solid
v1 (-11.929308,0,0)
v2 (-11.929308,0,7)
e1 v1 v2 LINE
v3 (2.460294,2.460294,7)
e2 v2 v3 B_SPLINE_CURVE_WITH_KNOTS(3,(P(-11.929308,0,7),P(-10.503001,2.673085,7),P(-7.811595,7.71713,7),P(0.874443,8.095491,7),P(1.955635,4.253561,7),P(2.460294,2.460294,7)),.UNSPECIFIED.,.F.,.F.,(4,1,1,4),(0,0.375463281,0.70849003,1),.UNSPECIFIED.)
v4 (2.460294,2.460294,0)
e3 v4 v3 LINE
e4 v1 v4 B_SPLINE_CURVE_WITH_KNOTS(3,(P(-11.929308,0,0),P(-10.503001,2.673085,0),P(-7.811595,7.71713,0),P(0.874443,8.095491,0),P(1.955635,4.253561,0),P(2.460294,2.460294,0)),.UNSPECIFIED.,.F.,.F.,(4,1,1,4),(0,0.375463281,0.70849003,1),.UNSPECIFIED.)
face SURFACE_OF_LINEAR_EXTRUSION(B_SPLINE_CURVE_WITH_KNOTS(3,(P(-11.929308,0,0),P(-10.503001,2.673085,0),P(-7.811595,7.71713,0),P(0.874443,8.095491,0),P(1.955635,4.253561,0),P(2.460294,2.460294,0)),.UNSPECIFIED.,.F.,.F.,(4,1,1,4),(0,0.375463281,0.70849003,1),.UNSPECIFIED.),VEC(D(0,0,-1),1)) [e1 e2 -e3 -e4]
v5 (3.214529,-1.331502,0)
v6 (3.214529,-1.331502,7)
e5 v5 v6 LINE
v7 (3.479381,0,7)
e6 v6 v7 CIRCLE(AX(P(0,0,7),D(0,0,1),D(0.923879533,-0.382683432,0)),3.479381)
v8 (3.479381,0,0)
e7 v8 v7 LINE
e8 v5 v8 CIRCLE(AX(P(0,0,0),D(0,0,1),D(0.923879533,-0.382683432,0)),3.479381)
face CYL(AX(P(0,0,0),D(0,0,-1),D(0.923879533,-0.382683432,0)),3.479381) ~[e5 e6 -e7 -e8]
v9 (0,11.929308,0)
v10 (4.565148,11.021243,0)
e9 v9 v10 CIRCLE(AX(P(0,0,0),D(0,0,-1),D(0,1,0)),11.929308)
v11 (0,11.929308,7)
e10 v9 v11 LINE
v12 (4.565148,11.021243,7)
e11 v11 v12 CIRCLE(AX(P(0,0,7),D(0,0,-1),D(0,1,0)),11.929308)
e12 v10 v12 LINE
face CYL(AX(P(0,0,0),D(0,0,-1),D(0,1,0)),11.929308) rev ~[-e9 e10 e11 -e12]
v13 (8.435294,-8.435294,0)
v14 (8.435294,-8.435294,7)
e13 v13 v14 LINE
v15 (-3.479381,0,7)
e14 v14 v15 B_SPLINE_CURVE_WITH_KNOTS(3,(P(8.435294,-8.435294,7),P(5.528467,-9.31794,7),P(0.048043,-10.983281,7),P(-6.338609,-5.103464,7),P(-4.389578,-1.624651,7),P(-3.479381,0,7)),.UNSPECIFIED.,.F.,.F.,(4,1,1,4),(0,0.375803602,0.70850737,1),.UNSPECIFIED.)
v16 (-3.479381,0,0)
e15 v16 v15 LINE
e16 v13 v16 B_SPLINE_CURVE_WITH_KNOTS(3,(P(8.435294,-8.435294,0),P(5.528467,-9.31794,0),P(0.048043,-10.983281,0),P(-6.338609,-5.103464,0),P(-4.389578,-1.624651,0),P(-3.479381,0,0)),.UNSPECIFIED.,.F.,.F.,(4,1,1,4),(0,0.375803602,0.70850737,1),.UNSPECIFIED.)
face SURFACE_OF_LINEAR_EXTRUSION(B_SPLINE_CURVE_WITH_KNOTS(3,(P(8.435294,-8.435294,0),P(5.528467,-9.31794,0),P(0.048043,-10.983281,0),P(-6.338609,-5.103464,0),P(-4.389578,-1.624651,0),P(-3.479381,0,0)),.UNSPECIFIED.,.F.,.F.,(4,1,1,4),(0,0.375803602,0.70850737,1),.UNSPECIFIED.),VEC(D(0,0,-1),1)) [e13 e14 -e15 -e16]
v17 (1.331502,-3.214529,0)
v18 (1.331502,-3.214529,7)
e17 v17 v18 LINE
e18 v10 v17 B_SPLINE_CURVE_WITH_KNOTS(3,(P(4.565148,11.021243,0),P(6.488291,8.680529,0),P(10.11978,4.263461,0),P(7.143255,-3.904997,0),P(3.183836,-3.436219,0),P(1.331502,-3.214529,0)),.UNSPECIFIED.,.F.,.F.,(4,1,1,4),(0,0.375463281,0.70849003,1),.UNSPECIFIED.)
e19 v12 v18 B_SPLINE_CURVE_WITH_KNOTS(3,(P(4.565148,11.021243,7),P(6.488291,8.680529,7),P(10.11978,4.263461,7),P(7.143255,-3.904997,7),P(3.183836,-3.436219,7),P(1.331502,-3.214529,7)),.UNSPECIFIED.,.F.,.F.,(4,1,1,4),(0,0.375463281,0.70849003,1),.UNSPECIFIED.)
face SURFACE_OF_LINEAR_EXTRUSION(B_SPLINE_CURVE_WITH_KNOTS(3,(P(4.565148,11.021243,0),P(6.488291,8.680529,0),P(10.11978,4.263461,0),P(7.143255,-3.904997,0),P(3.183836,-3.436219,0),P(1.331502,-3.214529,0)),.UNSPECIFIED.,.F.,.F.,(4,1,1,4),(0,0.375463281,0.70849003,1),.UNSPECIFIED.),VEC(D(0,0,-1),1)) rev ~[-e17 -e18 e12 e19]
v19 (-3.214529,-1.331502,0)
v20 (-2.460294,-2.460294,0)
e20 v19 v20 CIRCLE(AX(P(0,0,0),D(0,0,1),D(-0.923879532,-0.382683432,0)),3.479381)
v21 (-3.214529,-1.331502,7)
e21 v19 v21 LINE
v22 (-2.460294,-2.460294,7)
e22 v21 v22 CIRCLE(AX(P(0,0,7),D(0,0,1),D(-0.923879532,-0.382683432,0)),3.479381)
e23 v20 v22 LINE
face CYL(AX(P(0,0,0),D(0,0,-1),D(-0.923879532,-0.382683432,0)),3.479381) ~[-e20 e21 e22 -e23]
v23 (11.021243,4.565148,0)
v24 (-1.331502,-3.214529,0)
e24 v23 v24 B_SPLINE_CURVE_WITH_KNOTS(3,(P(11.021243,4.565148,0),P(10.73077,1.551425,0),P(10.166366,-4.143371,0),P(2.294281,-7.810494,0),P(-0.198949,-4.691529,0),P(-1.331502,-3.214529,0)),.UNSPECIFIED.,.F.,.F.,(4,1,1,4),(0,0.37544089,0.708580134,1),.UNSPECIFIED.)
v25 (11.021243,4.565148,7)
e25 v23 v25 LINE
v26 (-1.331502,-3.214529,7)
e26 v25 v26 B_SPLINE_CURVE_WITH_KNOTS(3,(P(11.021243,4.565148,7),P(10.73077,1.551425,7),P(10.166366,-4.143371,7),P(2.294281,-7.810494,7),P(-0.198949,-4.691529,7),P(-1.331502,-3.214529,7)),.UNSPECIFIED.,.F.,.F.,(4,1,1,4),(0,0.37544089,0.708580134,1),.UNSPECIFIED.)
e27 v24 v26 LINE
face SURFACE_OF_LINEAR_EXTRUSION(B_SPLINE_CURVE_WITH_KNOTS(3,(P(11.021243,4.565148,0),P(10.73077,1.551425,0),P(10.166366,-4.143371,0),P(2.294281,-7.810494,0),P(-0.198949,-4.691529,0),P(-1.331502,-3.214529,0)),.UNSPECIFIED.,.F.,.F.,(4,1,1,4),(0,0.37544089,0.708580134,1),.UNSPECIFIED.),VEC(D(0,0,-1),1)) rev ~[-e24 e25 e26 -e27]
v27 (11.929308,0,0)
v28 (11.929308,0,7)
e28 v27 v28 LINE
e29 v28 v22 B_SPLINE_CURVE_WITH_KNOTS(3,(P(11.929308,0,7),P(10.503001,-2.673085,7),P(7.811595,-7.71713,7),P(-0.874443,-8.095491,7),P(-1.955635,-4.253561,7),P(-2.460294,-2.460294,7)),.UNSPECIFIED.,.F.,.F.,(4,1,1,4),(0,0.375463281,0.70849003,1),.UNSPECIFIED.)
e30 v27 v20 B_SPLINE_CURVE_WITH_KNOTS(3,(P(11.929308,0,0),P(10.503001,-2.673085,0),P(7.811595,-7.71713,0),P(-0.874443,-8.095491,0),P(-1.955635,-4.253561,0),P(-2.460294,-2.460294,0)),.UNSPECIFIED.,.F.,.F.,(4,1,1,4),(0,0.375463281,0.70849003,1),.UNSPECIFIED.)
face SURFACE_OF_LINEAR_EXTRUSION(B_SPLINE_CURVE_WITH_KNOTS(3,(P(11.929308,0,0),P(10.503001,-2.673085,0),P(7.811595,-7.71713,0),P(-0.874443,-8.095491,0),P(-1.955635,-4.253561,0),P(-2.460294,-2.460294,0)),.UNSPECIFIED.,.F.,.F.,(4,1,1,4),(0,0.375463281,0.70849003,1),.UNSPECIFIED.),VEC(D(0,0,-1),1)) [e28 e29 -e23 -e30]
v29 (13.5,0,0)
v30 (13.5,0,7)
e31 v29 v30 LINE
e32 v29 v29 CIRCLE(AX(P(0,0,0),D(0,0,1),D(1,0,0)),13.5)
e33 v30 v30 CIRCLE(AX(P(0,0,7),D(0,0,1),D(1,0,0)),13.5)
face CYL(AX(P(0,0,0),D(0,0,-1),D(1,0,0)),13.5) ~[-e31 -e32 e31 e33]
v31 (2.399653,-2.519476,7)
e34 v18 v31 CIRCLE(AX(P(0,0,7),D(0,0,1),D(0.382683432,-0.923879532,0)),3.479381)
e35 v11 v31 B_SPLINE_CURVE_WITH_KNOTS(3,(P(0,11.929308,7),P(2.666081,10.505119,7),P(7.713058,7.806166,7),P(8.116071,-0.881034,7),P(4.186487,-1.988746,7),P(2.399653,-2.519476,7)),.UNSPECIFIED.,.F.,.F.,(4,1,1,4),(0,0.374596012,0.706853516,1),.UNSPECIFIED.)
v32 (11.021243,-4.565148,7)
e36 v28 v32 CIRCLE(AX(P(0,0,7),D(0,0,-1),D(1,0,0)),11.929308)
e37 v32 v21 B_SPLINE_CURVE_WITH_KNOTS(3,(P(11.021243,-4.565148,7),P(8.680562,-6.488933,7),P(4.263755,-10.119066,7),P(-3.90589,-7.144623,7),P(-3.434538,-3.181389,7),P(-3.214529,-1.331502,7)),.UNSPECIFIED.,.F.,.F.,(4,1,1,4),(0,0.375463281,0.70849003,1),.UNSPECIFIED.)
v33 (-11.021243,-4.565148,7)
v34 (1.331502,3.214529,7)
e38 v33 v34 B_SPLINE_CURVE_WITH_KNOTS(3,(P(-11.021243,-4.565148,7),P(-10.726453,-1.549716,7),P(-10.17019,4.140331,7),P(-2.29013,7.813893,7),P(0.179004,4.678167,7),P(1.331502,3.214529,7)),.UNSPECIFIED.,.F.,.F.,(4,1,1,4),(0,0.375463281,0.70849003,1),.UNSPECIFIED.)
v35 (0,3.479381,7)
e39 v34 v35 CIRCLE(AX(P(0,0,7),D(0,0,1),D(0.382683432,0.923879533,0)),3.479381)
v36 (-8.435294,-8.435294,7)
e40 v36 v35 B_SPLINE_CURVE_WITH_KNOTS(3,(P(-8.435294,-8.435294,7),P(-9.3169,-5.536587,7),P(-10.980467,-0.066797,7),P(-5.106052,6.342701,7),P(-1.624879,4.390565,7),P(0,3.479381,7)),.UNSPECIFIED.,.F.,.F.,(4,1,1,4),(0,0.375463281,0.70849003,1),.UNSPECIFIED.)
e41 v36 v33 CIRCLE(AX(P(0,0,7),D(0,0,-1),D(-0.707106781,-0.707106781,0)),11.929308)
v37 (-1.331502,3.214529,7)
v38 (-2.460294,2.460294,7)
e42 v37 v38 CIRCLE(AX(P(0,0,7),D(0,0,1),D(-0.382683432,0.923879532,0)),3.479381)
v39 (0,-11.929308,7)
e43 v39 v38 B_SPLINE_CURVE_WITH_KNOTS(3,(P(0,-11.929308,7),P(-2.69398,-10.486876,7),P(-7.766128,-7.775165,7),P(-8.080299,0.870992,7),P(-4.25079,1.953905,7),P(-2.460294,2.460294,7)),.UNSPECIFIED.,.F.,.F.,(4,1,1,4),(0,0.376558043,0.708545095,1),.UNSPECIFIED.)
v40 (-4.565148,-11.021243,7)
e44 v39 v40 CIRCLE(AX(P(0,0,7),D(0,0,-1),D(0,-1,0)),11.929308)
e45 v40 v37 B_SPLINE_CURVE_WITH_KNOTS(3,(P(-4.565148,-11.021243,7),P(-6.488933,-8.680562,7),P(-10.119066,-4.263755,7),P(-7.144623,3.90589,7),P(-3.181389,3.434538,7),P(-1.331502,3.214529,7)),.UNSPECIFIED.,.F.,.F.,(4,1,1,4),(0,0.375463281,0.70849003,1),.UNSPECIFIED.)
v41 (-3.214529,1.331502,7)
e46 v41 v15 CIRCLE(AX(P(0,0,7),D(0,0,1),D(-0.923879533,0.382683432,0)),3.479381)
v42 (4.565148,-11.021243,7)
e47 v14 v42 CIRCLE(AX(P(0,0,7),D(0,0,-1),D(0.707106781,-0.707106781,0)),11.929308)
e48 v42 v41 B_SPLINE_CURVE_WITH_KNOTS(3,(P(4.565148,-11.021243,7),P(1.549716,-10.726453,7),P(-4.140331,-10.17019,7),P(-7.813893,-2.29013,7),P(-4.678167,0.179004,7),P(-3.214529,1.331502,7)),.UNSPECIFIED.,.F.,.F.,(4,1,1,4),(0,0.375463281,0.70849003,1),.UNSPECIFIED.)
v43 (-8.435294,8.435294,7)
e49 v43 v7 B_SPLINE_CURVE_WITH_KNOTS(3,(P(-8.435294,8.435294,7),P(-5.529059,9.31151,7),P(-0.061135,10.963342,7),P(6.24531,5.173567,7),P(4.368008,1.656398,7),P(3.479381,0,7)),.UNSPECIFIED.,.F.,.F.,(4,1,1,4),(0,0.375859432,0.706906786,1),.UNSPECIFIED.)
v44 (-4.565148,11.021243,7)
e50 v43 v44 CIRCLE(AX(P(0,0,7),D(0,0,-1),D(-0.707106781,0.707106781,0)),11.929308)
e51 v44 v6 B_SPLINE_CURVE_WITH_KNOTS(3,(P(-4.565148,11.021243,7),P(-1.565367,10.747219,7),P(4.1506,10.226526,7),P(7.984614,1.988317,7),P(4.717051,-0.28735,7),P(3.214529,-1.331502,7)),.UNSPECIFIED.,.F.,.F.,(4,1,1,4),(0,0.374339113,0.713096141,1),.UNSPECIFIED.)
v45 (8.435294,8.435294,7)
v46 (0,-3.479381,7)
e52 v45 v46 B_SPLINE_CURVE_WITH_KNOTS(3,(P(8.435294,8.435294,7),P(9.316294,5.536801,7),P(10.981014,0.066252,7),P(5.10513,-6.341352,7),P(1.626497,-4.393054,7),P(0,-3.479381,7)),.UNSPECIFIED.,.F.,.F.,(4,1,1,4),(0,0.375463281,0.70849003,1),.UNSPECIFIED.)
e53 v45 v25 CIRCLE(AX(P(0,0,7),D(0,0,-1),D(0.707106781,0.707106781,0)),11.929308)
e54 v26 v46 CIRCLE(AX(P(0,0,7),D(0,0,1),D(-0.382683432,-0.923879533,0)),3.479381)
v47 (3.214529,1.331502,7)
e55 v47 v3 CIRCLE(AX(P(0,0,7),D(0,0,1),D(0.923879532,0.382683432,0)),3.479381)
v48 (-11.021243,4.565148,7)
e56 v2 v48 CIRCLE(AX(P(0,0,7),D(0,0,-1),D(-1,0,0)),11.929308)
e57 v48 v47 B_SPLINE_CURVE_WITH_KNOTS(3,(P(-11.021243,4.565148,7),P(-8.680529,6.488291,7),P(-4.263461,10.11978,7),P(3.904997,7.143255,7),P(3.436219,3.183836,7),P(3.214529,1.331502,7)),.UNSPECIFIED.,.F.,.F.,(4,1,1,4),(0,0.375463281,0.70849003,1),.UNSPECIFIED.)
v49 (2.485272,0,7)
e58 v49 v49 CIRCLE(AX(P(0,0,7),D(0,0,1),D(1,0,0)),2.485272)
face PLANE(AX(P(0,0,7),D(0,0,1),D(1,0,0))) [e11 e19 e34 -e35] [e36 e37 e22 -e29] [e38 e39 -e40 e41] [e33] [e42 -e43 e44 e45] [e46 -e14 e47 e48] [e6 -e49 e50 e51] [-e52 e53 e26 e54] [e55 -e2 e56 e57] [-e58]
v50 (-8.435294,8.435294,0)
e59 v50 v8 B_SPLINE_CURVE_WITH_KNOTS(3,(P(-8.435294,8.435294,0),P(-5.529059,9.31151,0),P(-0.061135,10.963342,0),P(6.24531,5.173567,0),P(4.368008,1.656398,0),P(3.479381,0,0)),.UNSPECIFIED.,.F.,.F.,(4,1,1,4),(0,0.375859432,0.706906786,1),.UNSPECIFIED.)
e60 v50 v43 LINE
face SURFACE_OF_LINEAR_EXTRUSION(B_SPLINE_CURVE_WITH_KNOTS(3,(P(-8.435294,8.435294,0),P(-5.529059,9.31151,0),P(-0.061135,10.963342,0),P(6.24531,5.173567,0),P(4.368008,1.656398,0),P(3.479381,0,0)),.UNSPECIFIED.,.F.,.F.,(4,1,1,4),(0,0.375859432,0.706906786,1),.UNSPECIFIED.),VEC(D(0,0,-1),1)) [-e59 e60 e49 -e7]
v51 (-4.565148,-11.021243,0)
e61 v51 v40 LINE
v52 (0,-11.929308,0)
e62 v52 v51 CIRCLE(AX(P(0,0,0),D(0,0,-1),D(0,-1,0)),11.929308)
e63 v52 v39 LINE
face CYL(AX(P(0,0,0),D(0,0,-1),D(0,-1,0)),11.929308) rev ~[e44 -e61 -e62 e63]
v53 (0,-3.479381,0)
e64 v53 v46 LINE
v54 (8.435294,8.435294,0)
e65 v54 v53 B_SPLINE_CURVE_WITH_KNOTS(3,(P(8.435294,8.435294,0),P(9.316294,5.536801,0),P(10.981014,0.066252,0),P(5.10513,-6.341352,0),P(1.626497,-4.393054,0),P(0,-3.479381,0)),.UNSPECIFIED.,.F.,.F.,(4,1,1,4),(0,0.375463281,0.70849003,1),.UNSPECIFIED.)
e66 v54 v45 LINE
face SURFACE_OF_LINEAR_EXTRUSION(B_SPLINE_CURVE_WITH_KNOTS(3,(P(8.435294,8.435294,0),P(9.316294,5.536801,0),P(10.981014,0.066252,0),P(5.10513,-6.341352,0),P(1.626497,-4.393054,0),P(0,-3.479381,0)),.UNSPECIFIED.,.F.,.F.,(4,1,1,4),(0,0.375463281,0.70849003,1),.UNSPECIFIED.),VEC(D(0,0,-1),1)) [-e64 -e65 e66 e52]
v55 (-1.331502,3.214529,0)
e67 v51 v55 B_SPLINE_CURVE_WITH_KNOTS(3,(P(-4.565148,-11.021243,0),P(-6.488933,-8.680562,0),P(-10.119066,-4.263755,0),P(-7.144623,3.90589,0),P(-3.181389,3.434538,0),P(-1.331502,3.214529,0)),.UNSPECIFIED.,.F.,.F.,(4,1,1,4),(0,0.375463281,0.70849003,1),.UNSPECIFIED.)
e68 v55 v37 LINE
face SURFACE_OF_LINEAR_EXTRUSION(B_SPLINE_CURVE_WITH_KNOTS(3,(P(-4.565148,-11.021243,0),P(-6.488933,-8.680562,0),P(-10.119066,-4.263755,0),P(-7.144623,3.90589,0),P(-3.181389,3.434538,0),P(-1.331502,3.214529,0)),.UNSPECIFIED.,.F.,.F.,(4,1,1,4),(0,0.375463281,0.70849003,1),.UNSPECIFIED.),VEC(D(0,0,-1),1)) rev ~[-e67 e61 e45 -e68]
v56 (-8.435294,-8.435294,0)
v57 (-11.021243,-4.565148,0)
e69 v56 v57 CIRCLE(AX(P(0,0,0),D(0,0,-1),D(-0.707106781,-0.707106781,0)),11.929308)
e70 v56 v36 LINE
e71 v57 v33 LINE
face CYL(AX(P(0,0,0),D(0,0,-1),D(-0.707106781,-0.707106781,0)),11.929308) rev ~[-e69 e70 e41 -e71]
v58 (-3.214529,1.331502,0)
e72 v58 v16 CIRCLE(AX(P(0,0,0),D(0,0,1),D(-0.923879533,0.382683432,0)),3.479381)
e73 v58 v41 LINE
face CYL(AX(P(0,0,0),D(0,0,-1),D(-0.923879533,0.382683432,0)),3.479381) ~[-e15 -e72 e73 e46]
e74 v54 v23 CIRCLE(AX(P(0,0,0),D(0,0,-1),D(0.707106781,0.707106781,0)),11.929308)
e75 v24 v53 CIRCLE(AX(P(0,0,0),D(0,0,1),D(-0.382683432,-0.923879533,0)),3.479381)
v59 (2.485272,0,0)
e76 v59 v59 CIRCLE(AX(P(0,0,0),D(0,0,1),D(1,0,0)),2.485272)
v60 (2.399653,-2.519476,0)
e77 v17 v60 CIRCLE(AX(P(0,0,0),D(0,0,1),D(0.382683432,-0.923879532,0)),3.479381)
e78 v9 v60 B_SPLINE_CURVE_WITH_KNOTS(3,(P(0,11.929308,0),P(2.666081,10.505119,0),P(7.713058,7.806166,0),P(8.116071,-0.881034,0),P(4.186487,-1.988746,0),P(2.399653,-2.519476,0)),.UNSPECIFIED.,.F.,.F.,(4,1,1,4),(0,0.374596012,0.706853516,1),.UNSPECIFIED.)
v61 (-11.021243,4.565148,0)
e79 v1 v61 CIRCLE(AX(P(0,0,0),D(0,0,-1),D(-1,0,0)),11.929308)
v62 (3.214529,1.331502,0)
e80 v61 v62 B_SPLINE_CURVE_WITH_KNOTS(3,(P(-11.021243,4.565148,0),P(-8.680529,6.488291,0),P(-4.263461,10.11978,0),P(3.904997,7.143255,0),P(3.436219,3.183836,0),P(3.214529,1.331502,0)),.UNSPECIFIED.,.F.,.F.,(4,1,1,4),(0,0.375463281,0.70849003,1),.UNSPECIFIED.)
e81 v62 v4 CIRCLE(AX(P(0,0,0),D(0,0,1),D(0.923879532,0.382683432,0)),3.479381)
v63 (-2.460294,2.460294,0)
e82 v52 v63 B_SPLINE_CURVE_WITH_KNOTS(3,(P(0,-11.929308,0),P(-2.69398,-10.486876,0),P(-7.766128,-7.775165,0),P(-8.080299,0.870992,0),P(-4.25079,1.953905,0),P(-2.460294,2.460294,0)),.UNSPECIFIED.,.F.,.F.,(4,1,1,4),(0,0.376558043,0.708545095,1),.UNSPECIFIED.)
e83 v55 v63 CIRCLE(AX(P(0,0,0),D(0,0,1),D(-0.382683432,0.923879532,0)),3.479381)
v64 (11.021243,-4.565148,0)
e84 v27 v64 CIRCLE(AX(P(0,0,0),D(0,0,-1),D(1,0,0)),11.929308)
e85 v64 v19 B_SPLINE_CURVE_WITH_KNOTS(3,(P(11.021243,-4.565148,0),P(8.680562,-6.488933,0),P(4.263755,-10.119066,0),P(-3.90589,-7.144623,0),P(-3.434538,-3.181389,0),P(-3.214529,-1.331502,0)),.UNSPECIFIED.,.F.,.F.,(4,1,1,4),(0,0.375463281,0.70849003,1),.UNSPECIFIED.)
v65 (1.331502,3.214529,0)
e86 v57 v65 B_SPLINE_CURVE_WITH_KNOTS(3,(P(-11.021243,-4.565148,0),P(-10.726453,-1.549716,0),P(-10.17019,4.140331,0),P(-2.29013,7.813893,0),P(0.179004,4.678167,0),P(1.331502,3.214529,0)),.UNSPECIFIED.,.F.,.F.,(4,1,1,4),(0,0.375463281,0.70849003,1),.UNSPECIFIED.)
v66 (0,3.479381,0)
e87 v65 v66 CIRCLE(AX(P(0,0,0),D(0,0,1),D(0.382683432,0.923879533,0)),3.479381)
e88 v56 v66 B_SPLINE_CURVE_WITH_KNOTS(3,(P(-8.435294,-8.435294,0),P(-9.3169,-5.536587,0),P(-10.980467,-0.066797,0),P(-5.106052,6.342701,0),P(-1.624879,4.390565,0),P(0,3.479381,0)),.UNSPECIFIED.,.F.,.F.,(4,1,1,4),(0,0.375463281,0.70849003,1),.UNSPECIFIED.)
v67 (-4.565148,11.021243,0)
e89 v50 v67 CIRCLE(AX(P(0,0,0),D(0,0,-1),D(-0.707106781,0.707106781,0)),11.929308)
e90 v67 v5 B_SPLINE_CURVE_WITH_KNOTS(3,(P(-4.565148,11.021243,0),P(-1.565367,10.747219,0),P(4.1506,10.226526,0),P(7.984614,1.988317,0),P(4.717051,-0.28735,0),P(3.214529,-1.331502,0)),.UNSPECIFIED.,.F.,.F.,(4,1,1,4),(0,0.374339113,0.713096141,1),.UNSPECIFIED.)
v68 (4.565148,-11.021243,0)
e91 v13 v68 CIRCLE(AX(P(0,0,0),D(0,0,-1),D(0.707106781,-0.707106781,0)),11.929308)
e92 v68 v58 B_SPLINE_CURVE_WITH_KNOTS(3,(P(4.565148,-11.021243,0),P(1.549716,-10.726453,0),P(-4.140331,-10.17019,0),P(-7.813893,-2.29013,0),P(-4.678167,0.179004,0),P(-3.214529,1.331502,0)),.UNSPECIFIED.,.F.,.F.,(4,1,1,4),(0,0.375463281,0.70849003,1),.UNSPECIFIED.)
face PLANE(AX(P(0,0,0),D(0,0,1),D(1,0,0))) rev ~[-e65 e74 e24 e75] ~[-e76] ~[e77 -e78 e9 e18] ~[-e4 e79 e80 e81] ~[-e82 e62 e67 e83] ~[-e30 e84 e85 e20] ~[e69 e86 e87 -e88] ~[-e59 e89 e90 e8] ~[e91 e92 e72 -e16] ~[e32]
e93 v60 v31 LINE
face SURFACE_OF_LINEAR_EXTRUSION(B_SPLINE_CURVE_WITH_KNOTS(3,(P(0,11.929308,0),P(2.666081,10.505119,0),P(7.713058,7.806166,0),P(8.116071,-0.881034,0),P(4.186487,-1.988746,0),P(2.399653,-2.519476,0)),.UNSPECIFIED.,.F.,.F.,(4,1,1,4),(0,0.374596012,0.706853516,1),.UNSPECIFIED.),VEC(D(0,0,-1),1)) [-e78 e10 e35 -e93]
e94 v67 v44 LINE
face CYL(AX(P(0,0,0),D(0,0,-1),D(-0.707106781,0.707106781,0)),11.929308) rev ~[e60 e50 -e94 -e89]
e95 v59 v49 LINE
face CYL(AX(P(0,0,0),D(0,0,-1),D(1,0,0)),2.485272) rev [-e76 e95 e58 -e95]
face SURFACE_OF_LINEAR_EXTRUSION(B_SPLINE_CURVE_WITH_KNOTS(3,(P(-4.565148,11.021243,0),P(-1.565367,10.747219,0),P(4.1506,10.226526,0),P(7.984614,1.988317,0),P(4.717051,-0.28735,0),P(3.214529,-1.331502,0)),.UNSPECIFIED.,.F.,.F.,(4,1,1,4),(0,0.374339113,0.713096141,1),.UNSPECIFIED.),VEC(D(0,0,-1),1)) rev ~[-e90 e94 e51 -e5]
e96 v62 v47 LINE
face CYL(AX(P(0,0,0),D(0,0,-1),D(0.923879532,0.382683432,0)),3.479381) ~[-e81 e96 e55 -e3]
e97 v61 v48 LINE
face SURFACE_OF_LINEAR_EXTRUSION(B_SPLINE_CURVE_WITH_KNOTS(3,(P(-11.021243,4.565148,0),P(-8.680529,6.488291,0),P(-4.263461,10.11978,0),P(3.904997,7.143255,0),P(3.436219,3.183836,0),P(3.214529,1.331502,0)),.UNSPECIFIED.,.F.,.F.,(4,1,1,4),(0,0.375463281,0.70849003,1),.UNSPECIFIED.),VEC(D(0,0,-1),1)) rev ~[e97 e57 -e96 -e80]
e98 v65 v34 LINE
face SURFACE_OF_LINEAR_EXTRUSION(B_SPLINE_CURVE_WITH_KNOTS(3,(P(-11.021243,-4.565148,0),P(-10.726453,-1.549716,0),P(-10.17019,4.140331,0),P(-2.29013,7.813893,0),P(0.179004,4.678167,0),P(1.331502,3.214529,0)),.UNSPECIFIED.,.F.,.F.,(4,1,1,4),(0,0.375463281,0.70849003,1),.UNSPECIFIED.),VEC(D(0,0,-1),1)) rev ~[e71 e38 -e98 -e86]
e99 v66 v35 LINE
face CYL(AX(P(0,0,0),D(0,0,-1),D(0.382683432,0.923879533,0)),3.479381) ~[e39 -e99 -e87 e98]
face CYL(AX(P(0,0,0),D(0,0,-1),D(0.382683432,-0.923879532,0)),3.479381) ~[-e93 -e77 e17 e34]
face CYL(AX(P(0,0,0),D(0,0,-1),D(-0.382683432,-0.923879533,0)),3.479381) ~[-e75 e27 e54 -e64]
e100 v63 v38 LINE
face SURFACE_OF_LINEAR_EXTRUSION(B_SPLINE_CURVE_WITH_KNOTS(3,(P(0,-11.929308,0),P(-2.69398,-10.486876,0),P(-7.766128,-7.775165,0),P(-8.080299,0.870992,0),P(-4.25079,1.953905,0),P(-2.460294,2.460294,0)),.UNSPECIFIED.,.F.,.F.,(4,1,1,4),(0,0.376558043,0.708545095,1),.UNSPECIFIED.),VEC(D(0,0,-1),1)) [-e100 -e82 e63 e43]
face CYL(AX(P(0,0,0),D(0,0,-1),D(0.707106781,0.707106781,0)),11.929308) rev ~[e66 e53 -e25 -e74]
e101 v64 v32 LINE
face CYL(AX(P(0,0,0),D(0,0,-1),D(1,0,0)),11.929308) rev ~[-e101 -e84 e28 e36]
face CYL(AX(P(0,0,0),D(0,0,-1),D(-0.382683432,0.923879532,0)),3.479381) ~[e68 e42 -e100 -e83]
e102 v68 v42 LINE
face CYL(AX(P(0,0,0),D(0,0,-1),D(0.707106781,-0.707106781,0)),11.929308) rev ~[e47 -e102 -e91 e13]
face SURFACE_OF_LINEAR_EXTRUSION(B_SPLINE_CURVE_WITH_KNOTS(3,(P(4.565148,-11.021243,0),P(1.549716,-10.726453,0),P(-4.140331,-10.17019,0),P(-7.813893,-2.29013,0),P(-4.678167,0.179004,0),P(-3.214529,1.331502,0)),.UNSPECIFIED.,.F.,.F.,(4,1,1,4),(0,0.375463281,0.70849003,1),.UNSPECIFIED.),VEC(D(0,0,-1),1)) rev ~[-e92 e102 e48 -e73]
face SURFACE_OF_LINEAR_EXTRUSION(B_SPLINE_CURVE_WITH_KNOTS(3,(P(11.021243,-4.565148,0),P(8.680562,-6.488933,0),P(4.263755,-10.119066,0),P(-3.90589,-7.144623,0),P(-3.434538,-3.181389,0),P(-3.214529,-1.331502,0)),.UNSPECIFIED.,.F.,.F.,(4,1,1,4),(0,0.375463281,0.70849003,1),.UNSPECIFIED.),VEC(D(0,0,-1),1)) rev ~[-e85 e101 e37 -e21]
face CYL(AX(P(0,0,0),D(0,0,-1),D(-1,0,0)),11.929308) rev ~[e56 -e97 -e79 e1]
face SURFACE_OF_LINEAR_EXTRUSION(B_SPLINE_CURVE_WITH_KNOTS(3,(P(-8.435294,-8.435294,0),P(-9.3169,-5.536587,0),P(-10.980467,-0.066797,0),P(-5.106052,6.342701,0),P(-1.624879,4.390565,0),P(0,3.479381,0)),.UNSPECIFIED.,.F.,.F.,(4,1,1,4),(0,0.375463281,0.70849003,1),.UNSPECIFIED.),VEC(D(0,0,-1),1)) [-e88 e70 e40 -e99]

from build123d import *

# Parameters (mm, degrees)
F0_R     = 13.5
F0_R_2   = 2.4852724595
F1_DEPTH = 7


with BuildPart() as f1:
    # F0 (on Top) → F1 (new body)
    with BuildSketch(Plane.XY):
        Circle(F0_R)
        with BuildLine():
            ThreePointArc((-11.0212433186, 4.5651484568), (-9.9188569362, 6.6275683173), (-8.4352944442, 8.4352944442))
            ThreePointArc((-8.4352944442, 8.4352944442), (-6.6275683173, 9.9188569362), (-4.5651484568, 11.0212433186))
            ThreePointArc((-4.5651484568, 11.0212433186), (-2.3272925012, 11.7000895011), (0, 11.9293078056))
            ThreePointArc((0, 11.9293078056), (2.3272925012, 11.7000895011), (4.5651484568, 11.0212433186))
            ThreePointArc((4.5651484568, 11.0212433186), (6.6275683173, 9.9188569362), (8.4352944442, 8.4352944442))
            ThreePointArc((8.4352944442, 8.4352944442), (9.9188569362, 6.6275683173), (11.0212433186, 4.5651484568))
            ThreePointArc((11.0212433186, 4.5651484568), (11.7000895011, 2.3272925012), (11.9293078056, 0))
            ThreePointArc((11.9293078056, 0), (11.7000895011, -2.3272925012), (11.0212433186, -4.5651484568))
            ThreePointArc((11.0212433186, -4.5651484568), (9.9188569362, -6.6275683173), (8.4352944442, -8.4352944442))
            ThreePointArc((8.4352944442, -8.4352944442), (6.6275683173, -9.9188569362), (4.5651484568, -11.0212433186))
            ThreePointArc((4.5651484568, -11.0212433186), (2.3272925012, -11.7000895011), (0, -11.9293078056))
            ThreePointArc((0, -11.9293078056), (-2.3272925012, -11.7000895011), (-4.5651484568, -11.0212433186))
            ThreePointArc((-4.5651484568, -11.0212433186), (-6.6275683173, -9.9188569362), (-8.4352944442, -8.4352944442))
            ThreePointArc((-8.4352944442, -8.4352944442), (-9.9188569362, -6.6275683173), (-11.0212433186, -4.5651484568))
            ThreePointArc((-11.0212433186, -4.5651484568), (-11.7000895011, -2.3272925012), (-11.9293078056, 0))
            ThreePointArc((-11.9293078056, 0), (-11.7000895011, 2.3272925012), (-11.0212433186, 4.5651484568))
        make_face(mode=Mode.SUBTRACT)
        with BuildLine():
            add(Edge.make_bspline(
                [(11.0212433186, 4.5651484568), (10.7307703614, 1.5514252721), (10.1663660438, -4.1433714543), (2.2942810987, -7.8104935299), (-0.1989491839, -4.6915291397), (-1.3315016332, -3.2145293013)],
                knots=[0, 0, 0, 0, 0.3754408897, 0.7085801344, 1, 1, 1, 1], degree=3))
            ThreePointArc((-1.3315016332, -3.2145293013), (-1.9330407592, -2.8929999397), (-2.4602942129, -2.4602942129))
            add(Edge.make_bspline(
                [(11.9293078056, 0), (10.5030009531, -2.6730846833), (7.8115947966, -7.7171301221), (-0.8744432081, -8.0954908894), (-1.9556350248, -4.2535609012), (-2.4602942129, -2.4602942129)],
                knots=[0, 0, 0, 0, 0.3754632807, 0.7084900303, 1, 1, 1, 1], degree=3))
            ThreePointArc((11.9293078056, 0), (11.7000895011, 2.3272925012), (11.0212433186, 4.5651484568))
        make_face()
        with BuildLine():
            add(Edge.make_bspline(
                [(4.5651484568, 11.0212433186), (6.4882912926, 8.6805285734), (10.1197801342, 4.2634610727), (7.1432551055, -3.9049968446), (3.1838363189, -3.436219375), (1.3315016332, -3.2145293013)],
                knots=[0, 0, 0, 0, 0.3754632807, 0.7084900303, 1, 1, 1, 1], degree=3))
            ThreePointArc((1.3315016332, -3.2145293013), (0.6787936462, -3.4125261045), (0, -3.4793814433))
            add(Edge.make_bspline(
                [(8.4352944442, 8.4352944442), (9.3162939954, 5.5368010983), (10.9810136566, 0.0662522262), (5.1051295916, -6.3413520413), (1.6264969852, -4.3930541604), (0, -3.4793814433)],
                knots=[0, 0, 0, 0, 0.3754632807, 0.7084900303, 1, 1, 1, 1], degree=3))
            ThreePointArc((8.4352944442, 8.4352944442), (6.6275683173, 9.9188569362), (4.5651484568, 11.0212433186))
        make_face()
        with BuildLine():
            add(Edge.make_bspline(
                [(-4.5651484568, 11.0212433186), (-1.5653669998, 10.7472190798), (4.1505997502, 10.2265263001), (7.9846135159, 1.9883168119), (4.7170514854, -0.2873495043), (3.2145293013, -1.3315016332)],
                knots=[0, 0, 0, 0, 0.3743391134, 0.7130961412, 1, 1, 1, 1], degree=3))
            ThreePointArc((3.2145293013, -1.3315016332), (2.8692477592, -1.968124113), (2.399653463, -2.5194758355))
            add(Edge.make_bspline(
                [(0, 11.9293078056), (2.6660813096, 10.5051188653), (7.7130575447, 7.806165889), (8.1160713079, -0.8810343308), (4.1864871277, -1.9887456195), (2.399653463, -2.5194758355)],
                knots=[0, 0, 0, 0, 0.3745960123, 0.7068535161, 1, 1, 1, 1], degree=3))
            ThreePointArc((0, 11.9293078056), (-2.3272925012, 11.7000895011), (-4.5651484568, 11.0212433186))
        make_face()
        with BuildLine():
            ThreePointArc((3.2145293013, 1.3315016332), (3.4125261045, 0.6787936462), (3.4793814433, 0))
            add(Edge.make_bspline(
                [(-8.4352944442, 8.4352944442), (-5.5290587898, 9.3115098739), (-0.061134709, 10.963342265), (6.2453098168, 5.1735666291), (4.3680084471, 1.6563982723), (3.4793814433, 0)],
                knots=[0, 0, 0, 0, 0.3758594316, 0.7069067859, 1, 1, 1, 1], degree=3))
            ThreePointArc((-8.4352944442, 8.4352944442), (-9.9188569362, 6.6275683173), (-11.0212433186, 4.5651484568))
            add(Edge.make_bspline(
                [(-11.0212433186, 4.5651484568), (-8.6805285734, 6.4882912926), (-4.2634610727, 10.1197801342), (3.9049968446, 7.1432551055), (3.436219375, 3.1838363189), (3.2145293013, 1.3315016332)],
                knots=[0, 0, 0, 0, 0.3754632807, 0.7084900303, 1, 1, 1, 1], degree=3))
        make_face()
        with BuildLine():
            ThreePointArc((1.3315016332, 3.2145293013), (1.9330407592, 2.8929999397), (2.4602942129, 2.4602942129))
            add(Edge.make_bspline(
                [(-11.9293078056, 0), (-10.5030009531, 2.6730846833), (-7.8115947966, 7.7171301221), (0.8744432081, 8.0954908894), (1.9556350248, 4.2535609012), (2.4602942129, 2.4602942129)],
                knots=[0, 0, 0, 0, 0.3754632807, 0.7084900303, 1, 1, 1, 1], degree=3))
            ThreePointArc((-11.9293078056, 0), (-11.7000895011, -2.3272925012), (-11.0212433186, -4.5651484568))
            add(Edge.make_bspline(
                [(-11.0212433186, -4.5651484568), (-10.7264528322, -1.5497162273), (-10.170190392, 4.1403306606), (-2.2901300579, 7.8138932667), (0.179003887, 4.6781669807), (1.3315016332, 3.2145293013)],
                knots=[0, 0, 0, 0, 0.3754632807, 0.7084900303, 1, 1, 1, 1], degree=3))
        make_face()
        with BuildLine():
            ThreePointArc((-1.3315016332, 3.2145293013), (-0.6787936462, 3.4125261045), (0, 3.4793814433))
            add(Edge.make_bspline(
                [(-8.4352944442, -8.4352944442), (-9.316899503, -5.5365868906), (-10.9804666932, -0.0667966119), (-5.1060517827, 6.3427012272), (-1.6248789699, 4.390564545), (0, 3.4793814433)],
                knots=[0, 0, 0, 0, 0.3754632807, 0.7084900303, 1, 1, 1, 1], degree=3))
            ThreePointArc((-8.4352944442, -8.4352944442), (-6.6275683173, -9.9188569362), (-4.5651484568, -11.0212433186))
            add(Edge.make_bspline(
                [(-4.5651484568, -11.0212433186), (-6.4889326824, -8.680562389), (-10.1190664786, -4.2637547057), (-7.1446234101, 3.9058904226), (-3.1813887332, 3.4345384579), (-1.3315016332, 3.2145293013)],
                knots=[0, 0, 0, 0, 0.3754632807, 0.7084900303, 1, 1, 1, 1], degree=3))
        make_face()
        with BuildLine():
            ThreePointArc((-3.2145293013, 1.3315016332), (-2.8929999397, 1.9330407592), (-2.4602942129, 2.4602942129))
            add(Edge.make_bspline(
                [(0, -11.9293078056), (-2.6939798135, -10.4868757597), (-7.7661281647, -7.7751649278), (-8.0802993691, 0.8709922033), (-4.2507900744, 1.9539046045), (-2.4602942129, 2.4602942129)],
                knots=[0, 0, 0, 0, 0.3765580427, 0.7085450955, 1, 1, 1, 1], degree=3))
            ThreePointArc((0, -11.9293078056), (2.3272925012, -11.7000895011), (4.5651484568, -11.0212433186))
            add(Edge.make_bspline(
                [(4.5651484568, -11.0212433186), (1.5497162273, -10.7264528322), (-4.1403306606, -10.170190392), (-7.8138932667, -2.2901300579), (-4.6781669807, 0.179003887), (-3.2145293013, 1.3315016332)],
                knots=[0, 0, 0, 0, 0.3754632807, 0.7084900303, 1, 1, 1, 1], degree=3))
        make_face()
        with BuildLine():
            add(Edge.make_bspline(
                [(11.0212433186, -4.5651484568), (8.680562389, -6.4889326824), (4.2637547057, -10.1190664786), (-3.9058904226, -7.1446234101), (-3.4345384579, -3.1813887332), (-3.2145293013, -1.3315016332)],
                knots=[0, 0, 0, 0, 0.3754632807, 0.7084900303, 1, 1, 1, 1], degree=3))
            ThreePointArc((-3.2145293013, -1.3315016332), (-3.4125261045, -0.6787936462), (-3.4793814433, 0))
            add(Edge.make_bspline(
                [(8.4352944442, -8.4352944442), (5.5284668219, -9.3179401167), (0.0480432269, -10.9832806768), (-6.3386089617, -5.1034639943), (-4.3895776289, -1.6246506872), (-3.4793814433, 0)],
                knots=[0, 0, 0, 0, 0.3758036016, 0.7085073702, 1, 1, 1, 1], degree=3))
            ThreePointArc((8.4352944442, -8.4352944442), (9.9188569362, -6.6275683173), (11.0212433186, -4.5651484568))
        make_face()
        with BuildLine():
            ThreePointArc((3.2145293013, -1.3315016332), (3.4125261045, -0.6787936462), (3.4793814433, 0))
            ThreePointArc((3.4793814433, 0), (3.4125261045, 0.6787936462), (3.2145293013, 1.3315016332))
            ThreePointArc((3.2145293013, 1.3315016332), (2.8929999397, 1.9330407592), (2.4602942129, 2.4602942129))
            ThreePointArc((2.4602942129, 2.4602942129), (1.9330407592, 2.8929999397), (1.3315016332, 3.2145293013))
            ThreePointArc((1.3315016332, 3.2145293013), (0.6787936462, 3.4125261045), (0, 3.4793814433))
            ThreePointArc((0, 3.4793814433), (-0.6787936462, 3.4125261045), (-1.3315016332, 3.2145293013))
            ThreePointArc((-1.3315016332, 3.2145293013), (-1.9330407592, 2.8929999397), (-2.4602942129, 2.4602942129))
            ThreePointArc((-2.4602942129, 2.4602942129), (-2.8929999397, 1.9330407592), (-3.2145293013, 1.3315016332))
            ThreePointArc((-3.2145293013, 1.3315016332), (-3.4125261045, 0.6787936462), (-3.4793814433, 0))
            ThreePointArc((-3.4793814433, 0), (-3.4125261045, -0.6787936462), (-3.2145293013, -1.3315016332))
            ThreePointArc((-3.2145293013, -1.3315016332), (-2.8929999397, -1.9330407592), (-2.4602942129, -2.4602942129))
            ThreePointArc((-2.4602942129, -2.4602942129), (-1.9330407592, -2.8929999397), (-1.3315016332, -3.2145293013))
            ThreePointArc((-1.3315016332, -3.2145293013), (-0.6787936462, -3.4125261045), (0, -3.4793814433))
            ThreePointArc((0, -3.4793814433), (0.6787936462, -3.4125261045), (1.3315016332, -3.2145293013))
            ThreePointArc((1.3315016332, -3.2145293013), (1.8976707876, -2.9163231662), (2.399653463, -2.5194758355))
            ThreePointArc((2.399653463, -2.5194758355), (2.8692477592, -1.968124113), (3.2145293013, -1.3315016332))
        make_face()
        Circle(F0_R_2, mode=Mode.SUBTRACT)
    extrude(amount=F1_DEPTH)


solid = f1.part
